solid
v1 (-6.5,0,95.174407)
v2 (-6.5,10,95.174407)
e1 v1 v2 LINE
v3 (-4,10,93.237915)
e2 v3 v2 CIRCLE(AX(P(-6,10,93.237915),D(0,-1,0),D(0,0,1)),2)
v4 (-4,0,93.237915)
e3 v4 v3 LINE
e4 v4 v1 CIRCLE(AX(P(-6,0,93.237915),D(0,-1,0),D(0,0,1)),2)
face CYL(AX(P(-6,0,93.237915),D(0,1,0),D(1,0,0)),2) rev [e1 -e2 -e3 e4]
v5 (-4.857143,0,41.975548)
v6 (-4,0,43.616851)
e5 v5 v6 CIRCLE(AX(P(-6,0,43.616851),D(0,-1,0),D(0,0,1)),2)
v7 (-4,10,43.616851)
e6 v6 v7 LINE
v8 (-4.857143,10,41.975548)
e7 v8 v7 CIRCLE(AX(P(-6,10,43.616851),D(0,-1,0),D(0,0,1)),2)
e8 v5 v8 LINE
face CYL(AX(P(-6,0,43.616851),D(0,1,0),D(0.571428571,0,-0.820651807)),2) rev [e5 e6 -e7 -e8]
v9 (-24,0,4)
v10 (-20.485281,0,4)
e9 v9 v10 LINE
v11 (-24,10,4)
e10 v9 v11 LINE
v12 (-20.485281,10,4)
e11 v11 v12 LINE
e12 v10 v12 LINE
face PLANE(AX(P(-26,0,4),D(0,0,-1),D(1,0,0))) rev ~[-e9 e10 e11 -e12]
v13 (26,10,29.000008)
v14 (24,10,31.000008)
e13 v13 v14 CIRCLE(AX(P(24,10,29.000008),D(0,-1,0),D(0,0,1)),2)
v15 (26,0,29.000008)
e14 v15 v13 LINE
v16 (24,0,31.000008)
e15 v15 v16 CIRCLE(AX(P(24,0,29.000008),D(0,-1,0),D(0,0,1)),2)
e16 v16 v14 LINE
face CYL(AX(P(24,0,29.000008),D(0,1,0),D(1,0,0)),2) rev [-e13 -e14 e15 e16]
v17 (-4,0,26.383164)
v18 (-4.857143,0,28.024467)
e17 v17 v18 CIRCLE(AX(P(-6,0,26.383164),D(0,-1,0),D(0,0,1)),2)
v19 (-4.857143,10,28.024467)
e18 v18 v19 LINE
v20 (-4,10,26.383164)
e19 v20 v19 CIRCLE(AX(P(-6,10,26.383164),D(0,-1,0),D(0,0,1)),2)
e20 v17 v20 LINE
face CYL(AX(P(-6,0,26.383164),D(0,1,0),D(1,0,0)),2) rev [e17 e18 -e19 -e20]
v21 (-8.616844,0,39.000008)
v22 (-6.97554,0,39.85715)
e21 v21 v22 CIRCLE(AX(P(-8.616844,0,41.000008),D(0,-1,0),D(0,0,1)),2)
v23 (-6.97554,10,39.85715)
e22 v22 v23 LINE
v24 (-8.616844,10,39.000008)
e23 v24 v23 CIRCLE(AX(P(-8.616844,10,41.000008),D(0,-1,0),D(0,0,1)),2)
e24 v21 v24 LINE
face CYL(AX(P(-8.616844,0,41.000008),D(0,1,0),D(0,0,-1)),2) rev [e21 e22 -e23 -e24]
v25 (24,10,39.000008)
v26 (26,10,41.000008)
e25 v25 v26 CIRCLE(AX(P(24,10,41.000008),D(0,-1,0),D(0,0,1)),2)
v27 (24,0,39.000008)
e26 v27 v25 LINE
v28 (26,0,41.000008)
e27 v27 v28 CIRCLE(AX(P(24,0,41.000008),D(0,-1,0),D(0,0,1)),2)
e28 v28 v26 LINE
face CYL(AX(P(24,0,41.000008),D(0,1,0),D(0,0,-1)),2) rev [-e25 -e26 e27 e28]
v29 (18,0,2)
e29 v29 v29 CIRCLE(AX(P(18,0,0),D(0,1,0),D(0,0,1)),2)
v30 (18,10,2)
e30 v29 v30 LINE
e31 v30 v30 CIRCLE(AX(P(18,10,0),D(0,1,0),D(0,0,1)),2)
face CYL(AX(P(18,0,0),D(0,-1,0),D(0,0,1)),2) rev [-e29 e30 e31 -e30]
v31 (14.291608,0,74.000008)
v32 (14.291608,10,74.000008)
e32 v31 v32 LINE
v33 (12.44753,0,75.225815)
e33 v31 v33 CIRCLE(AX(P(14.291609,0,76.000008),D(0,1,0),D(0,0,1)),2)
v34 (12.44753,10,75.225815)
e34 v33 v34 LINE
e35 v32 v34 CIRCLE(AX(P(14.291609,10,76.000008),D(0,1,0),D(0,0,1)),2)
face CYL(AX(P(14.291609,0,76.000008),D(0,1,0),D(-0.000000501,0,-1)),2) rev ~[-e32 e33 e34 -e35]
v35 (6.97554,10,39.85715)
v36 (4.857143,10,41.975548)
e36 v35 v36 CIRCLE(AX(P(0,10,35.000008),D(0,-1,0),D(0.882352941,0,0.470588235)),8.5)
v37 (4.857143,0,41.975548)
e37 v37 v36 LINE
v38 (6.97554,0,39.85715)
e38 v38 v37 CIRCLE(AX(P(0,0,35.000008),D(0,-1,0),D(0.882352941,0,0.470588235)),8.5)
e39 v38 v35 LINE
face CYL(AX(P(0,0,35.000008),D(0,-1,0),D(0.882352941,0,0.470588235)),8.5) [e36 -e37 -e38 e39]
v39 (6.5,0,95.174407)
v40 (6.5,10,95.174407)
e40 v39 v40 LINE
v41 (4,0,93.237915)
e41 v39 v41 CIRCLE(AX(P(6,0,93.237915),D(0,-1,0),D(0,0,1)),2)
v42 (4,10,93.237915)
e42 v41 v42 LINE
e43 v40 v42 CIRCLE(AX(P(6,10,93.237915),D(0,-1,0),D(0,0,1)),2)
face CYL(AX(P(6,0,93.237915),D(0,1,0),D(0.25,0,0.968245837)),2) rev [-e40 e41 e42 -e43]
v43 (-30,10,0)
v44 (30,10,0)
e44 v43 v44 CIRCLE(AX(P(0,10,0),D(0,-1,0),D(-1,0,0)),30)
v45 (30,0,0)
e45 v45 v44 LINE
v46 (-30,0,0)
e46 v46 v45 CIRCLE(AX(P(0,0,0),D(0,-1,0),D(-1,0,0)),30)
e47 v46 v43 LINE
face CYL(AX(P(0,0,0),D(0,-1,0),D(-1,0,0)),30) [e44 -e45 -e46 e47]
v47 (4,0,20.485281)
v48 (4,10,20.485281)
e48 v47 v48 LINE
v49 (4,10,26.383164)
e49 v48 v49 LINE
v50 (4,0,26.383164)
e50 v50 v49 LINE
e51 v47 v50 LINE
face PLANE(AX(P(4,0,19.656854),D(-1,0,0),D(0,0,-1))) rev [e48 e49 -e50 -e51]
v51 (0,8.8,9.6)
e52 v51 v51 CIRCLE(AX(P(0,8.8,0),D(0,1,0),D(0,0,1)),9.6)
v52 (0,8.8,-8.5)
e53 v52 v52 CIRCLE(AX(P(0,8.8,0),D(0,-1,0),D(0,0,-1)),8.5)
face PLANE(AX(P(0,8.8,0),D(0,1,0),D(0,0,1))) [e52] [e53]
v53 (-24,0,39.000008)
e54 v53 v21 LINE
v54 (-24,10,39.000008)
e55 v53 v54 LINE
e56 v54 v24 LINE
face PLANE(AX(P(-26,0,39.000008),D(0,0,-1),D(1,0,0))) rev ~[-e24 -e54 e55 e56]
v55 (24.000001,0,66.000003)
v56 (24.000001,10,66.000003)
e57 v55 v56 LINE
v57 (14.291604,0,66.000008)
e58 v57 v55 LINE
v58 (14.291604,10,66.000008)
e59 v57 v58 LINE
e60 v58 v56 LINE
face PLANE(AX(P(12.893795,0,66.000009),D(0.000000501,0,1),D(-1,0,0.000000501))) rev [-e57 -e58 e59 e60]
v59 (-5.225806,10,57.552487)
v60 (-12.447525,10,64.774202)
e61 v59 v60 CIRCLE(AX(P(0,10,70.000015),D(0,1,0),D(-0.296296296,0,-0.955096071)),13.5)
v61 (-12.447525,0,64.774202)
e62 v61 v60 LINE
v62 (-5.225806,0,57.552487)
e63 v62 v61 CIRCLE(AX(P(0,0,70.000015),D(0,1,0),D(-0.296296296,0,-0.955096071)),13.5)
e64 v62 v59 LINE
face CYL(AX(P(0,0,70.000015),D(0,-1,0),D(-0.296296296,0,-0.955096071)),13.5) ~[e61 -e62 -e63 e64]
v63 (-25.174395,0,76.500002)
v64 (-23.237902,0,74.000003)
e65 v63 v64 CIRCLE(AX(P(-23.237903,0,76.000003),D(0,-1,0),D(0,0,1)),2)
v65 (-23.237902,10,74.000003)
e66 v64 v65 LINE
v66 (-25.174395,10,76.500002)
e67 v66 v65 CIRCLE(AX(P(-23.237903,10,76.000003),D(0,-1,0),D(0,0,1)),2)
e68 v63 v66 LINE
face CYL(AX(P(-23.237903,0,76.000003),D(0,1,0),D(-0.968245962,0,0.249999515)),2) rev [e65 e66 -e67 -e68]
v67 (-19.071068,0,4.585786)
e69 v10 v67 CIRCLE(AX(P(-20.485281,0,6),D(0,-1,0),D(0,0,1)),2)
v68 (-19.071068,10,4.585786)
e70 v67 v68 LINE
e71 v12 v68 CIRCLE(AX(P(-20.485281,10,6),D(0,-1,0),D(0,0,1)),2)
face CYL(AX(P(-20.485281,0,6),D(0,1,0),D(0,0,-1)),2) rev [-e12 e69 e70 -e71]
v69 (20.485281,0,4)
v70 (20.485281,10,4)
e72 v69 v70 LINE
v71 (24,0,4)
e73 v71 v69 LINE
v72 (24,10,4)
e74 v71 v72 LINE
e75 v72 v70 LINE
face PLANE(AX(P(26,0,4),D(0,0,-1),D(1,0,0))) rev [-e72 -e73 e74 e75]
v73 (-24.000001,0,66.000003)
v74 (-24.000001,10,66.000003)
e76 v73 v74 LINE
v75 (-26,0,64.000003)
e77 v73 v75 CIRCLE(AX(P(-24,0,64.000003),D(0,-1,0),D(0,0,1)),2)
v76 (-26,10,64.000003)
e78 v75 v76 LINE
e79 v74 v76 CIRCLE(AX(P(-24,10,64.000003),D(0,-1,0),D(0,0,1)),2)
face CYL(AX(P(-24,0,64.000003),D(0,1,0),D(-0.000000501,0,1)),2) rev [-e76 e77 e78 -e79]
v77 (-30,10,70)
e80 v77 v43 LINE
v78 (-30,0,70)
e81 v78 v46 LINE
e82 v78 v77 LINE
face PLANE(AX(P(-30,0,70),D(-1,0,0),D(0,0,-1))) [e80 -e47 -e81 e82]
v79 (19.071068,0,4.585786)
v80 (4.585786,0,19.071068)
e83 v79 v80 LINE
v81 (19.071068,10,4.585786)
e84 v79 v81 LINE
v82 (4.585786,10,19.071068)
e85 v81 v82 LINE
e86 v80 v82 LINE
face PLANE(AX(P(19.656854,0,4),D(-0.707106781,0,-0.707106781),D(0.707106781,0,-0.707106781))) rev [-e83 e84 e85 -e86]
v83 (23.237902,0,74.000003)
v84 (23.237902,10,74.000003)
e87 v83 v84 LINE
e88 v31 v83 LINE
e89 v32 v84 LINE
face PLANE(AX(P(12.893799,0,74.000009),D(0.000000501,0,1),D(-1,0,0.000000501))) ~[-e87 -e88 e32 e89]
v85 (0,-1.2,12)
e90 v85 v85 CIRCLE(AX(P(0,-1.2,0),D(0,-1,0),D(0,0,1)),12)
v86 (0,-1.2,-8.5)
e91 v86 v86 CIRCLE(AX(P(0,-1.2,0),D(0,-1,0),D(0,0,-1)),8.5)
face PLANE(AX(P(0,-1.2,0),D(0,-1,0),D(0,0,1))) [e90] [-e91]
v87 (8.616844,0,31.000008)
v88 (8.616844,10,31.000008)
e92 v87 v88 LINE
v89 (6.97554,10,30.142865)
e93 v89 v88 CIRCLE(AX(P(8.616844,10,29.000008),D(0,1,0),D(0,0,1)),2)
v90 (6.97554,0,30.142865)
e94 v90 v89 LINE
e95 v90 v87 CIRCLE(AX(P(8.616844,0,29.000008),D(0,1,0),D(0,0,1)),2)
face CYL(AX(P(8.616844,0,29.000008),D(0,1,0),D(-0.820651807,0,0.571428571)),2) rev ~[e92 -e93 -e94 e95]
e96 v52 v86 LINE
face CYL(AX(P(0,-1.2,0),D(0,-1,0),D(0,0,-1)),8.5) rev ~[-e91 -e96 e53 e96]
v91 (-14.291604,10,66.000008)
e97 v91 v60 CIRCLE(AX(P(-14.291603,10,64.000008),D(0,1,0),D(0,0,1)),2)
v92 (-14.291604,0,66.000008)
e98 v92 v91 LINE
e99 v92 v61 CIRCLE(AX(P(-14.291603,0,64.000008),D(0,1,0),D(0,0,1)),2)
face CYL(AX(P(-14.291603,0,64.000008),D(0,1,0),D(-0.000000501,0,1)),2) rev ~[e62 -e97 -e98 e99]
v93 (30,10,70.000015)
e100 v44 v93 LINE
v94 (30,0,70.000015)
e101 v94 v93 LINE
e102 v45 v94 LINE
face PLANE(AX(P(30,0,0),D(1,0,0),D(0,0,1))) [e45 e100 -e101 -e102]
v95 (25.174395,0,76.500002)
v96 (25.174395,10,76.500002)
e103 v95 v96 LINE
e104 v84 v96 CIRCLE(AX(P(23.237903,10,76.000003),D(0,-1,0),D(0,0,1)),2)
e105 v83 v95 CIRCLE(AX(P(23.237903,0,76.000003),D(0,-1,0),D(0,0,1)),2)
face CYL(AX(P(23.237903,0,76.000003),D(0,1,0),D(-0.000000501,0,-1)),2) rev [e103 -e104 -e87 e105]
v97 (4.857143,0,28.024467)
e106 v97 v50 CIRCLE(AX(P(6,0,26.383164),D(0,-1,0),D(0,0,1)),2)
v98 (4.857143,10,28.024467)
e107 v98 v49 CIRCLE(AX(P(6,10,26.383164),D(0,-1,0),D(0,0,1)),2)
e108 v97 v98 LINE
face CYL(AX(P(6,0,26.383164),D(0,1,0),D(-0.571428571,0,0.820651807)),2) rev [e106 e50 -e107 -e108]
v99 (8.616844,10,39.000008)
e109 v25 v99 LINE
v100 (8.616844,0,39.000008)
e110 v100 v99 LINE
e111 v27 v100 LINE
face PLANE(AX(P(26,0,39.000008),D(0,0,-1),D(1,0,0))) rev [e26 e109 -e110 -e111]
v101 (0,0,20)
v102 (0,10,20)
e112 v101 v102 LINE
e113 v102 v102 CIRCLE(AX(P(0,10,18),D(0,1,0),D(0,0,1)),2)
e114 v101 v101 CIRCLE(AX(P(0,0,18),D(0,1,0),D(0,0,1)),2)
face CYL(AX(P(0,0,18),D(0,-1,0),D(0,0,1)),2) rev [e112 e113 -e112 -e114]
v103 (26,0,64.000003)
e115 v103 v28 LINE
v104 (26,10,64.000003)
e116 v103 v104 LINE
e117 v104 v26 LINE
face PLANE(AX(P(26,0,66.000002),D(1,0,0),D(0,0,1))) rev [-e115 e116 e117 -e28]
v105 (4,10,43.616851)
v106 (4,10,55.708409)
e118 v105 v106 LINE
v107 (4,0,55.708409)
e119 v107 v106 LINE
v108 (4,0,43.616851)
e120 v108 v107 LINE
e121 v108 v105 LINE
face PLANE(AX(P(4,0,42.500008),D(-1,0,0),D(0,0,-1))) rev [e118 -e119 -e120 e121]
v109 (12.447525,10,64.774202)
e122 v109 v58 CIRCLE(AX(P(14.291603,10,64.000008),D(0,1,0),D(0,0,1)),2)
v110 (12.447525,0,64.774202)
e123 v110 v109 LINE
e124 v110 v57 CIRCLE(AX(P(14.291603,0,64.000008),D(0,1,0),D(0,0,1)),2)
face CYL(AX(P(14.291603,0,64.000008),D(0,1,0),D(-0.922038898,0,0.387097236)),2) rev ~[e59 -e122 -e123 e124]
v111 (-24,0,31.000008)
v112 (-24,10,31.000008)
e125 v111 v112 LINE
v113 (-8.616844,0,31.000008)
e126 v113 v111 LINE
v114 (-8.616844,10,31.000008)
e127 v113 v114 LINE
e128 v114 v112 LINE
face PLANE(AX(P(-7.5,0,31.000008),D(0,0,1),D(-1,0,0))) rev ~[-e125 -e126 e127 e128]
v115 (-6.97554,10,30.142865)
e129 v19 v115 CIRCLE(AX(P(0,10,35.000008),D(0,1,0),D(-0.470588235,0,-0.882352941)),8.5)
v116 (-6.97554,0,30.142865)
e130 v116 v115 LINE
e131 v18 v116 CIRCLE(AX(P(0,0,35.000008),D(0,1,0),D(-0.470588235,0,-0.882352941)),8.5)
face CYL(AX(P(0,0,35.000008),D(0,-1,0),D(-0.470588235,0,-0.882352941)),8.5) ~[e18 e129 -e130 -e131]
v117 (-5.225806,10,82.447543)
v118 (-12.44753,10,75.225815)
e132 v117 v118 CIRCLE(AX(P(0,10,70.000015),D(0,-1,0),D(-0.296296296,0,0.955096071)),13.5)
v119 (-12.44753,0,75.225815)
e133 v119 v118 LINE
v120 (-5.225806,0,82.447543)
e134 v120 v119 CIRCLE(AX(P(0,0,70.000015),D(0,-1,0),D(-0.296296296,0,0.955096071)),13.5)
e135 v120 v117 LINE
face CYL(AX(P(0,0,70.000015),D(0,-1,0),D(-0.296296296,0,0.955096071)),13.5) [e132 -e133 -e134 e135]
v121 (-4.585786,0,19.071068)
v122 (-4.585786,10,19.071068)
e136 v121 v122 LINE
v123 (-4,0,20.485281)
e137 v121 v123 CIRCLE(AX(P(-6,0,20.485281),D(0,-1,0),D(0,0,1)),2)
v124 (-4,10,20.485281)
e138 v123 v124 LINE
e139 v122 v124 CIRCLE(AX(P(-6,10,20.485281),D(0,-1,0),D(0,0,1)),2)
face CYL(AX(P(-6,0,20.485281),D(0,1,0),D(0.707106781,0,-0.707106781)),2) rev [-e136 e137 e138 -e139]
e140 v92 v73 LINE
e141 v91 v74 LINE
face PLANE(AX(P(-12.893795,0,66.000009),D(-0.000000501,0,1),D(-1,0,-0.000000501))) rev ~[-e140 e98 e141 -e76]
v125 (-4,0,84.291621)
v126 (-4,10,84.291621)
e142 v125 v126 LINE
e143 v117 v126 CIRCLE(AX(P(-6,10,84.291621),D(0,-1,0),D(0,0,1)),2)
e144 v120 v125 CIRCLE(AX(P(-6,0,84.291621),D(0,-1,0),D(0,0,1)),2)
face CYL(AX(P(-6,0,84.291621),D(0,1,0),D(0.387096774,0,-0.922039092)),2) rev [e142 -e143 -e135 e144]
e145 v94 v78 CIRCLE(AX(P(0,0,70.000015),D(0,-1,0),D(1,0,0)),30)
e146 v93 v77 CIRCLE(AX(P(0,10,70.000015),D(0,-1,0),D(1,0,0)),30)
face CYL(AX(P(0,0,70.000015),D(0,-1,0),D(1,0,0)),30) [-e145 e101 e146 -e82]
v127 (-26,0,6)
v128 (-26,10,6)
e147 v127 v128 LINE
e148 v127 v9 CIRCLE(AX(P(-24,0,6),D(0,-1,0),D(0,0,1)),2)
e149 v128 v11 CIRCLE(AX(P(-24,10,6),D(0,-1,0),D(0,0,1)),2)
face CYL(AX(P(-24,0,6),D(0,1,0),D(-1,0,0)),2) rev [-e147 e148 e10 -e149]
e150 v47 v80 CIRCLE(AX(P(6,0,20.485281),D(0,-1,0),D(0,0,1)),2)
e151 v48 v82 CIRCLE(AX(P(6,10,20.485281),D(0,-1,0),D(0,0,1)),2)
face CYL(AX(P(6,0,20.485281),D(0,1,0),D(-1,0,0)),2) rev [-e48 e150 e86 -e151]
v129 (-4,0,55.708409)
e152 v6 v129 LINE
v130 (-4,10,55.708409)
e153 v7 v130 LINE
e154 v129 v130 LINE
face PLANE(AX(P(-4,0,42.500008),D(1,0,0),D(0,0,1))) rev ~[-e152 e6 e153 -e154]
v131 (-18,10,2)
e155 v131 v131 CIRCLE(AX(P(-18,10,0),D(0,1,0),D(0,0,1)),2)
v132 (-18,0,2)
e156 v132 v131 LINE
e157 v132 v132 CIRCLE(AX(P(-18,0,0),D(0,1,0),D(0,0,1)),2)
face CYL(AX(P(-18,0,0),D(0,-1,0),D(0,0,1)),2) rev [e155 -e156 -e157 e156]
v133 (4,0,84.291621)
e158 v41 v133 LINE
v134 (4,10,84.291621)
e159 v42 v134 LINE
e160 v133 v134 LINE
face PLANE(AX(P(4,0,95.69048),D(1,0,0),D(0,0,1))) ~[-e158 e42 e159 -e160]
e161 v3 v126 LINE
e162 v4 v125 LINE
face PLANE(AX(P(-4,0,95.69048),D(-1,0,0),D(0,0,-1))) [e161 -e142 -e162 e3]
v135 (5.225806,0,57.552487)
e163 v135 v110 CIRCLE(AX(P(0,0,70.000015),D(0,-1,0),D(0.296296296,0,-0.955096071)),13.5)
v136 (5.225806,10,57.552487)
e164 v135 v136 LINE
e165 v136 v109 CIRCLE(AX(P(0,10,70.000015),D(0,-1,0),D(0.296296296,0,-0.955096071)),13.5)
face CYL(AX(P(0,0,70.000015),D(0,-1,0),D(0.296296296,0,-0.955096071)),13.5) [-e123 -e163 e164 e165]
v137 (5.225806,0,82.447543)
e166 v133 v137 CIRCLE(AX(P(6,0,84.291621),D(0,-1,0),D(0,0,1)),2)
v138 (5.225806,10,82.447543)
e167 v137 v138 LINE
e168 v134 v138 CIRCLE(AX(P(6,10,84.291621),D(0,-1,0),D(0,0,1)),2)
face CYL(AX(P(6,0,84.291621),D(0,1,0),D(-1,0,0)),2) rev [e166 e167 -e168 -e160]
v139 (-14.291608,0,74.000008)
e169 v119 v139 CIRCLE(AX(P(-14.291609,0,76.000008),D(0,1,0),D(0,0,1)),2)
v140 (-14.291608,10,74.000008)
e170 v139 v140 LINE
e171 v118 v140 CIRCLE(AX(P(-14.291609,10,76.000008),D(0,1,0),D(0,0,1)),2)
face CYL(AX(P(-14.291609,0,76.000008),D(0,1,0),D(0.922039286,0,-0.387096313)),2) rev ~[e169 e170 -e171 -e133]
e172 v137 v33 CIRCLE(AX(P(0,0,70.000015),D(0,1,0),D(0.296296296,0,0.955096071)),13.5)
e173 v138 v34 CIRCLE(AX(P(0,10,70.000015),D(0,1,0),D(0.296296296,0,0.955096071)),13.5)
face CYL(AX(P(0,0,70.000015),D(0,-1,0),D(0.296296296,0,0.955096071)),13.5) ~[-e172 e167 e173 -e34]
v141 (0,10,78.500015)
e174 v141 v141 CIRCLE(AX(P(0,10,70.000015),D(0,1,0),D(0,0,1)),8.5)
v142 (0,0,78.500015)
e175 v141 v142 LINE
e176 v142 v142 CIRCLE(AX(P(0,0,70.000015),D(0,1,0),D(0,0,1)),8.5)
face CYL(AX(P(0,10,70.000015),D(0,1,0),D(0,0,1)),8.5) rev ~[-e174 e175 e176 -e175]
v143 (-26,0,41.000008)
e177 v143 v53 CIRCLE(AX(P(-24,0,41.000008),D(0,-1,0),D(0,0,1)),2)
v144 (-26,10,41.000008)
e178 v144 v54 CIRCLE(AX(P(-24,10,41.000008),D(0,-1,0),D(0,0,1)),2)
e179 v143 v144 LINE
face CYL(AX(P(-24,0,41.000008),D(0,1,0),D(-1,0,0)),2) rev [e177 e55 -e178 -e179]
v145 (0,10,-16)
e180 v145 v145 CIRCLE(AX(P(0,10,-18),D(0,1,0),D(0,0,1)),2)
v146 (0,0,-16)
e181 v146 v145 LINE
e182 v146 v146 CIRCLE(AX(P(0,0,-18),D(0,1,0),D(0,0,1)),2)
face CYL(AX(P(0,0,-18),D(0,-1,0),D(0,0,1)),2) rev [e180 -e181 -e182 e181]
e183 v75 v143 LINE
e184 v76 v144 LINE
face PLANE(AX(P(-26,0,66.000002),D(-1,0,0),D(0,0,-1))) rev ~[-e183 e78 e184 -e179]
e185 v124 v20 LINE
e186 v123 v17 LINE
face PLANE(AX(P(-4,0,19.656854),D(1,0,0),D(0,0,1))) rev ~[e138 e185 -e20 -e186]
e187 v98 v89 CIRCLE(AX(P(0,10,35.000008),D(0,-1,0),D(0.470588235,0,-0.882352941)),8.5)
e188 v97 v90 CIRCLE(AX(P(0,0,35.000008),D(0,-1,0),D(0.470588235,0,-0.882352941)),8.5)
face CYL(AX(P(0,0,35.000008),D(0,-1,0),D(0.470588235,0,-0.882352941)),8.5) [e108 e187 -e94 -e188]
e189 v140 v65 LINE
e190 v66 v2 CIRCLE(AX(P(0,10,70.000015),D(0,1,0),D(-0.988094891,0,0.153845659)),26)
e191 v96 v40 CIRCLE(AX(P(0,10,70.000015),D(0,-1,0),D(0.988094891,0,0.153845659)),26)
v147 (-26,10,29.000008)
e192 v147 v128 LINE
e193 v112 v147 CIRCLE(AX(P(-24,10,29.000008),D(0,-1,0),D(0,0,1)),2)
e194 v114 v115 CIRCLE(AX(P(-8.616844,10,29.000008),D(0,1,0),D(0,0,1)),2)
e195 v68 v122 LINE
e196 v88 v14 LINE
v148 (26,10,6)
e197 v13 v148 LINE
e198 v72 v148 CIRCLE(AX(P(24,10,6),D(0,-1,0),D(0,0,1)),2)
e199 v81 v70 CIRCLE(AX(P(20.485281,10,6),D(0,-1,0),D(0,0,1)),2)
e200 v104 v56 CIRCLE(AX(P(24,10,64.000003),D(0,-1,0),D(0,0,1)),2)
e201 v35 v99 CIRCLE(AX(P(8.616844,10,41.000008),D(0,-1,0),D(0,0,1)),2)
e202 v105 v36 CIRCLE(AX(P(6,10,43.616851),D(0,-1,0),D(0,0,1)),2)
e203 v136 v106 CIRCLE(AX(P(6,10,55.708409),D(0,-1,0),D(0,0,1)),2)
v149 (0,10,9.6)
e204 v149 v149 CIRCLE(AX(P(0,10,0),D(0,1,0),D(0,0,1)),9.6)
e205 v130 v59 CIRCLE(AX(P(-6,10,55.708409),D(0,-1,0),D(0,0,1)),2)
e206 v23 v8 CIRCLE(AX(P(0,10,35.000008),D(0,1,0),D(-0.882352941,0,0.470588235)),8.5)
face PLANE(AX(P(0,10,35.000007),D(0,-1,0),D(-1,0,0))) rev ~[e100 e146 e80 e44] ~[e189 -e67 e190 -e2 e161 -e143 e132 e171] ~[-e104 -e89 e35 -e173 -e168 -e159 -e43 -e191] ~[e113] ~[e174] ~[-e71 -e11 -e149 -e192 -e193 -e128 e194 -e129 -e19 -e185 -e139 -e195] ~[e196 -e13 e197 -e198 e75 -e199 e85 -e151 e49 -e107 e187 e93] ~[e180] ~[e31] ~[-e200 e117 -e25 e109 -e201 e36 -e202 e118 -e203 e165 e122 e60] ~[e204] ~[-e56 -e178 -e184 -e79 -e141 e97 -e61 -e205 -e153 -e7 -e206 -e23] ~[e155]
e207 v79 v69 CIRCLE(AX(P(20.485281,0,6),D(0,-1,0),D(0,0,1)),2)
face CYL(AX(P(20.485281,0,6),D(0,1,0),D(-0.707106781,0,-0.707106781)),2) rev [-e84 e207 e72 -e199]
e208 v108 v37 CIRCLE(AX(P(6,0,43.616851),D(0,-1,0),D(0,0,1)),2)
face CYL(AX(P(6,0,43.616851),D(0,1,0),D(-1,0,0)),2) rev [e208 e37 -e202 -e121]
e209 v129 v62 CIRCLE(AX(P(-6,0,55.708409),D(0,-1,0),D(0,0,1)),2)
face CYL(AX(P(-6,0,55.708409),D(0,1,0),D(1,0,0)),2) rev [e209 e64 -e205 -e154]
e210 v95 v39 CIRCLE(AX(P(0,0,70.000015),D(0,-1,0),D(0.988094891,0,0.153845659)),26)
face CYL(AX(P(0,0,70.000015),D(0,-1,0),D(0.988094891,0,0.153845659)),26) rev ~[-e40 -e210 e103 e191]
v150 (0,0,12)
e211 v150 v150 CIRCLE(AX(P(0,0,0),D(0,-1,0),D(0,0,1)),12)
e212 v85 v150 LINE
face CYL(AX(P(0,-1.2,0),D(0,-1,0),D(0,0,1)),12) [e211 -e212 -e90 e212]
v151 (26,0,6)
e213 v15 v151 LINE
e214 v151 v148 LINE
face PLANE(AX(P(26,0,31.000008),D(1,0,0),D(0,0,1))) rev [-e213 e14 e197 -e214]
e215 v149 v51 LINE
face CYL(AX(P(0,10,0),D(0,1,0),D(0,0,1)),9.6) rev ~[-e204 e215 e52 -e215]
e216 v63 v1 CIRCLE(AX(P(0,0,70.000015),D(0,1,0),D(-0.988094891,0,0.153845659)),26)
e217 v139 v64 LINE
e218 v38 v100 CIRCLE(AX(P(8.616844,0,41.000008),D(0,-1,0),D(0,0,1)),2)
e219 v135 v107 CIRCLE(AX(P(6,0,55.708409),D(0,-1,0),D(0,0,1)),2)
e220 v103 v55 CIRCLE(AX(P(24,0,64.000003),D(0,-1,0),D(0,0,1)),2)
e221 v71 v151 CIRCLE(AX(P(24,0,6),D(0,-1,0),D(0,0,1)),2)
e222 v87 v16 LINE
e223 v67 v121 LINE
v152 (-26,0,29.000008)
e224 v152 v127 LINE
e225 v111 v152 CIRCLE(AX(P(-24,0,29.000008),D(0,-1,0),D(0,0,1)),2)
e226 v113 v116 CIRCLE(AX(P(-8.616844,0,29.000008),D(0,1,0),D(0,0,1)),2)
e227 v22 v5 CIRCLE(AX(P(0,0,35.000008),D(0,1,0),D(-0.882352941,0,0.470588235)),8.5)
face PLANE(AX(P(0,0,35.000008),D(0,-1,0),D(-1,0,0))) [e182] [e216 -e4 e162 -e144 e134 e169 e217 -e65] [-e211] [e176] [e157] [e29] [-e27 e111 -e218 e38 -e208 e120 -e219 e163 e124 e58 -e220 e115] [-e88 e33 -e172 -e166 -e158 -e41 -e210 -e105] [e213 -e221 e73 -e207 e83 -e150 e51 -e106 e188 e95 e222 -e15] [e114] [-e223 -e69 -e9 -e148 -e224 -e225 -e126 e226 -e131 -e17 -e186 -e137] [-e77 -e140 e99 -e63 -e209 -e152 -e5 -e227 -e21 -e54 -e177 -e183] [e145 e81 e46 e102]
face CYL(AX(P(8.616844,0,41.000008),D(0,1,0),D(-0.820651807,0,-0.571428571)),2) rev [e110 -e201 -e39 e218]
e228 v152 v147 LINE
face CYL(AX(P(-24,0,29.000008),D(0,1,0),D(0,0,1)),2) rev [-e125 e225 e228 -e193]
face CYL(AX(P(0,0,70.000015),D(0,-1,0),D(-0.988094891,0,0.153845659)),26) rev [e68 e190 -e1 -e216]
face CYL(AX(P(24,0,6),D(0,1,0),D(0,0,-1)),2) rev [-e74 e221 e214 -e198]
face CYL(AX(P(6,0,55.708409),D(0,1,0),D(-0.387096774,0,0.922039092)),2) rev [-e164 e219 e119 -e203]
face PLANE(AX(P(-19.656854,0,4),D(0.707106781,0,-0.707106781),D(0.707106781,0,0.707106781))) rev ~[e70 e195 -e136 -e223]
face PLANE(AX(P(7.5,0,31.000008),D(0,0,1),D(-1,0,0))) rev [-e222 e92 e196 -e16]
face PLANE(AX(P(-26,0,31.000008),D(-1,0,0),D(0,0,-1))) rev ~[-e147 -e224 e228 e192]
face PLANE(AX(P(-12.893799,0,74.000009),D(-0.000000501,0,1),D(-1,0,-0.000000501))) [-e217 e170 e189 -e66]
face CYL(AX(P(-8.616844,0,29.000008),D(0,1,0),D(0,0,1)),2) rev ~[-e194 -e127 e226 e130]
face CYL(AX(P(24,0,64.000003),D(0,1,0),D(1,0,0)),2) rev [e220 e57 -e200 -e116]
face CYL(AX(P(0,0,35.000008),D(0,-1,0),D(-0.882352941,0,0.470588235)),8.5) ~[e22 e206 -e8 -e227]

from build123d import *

# Parameters (mm, degrees)
SKETCH_1_R             = 4
SKETCH_1_R_2           = 2
EXTRUDE_1_DEPTH        = 10
SKETCH_2_R             = 8.5
CUT_EXTRUDE_1_DEPTH    = 10
SKETCH_4_R             = 2.5
CUT_EXTRUDE_3_DEPTH    = 30
CUT_EXTRUDE_8_DEPTH    = 10
FILLET_1_R             = 2
FILLET_1_OF_MIRROR_1_R = 2
SKETCH_11_R            = 2.5
EXTRUDE_2_DEPTH        = 10
SKETCH_12_R            = 8.5
CUT_EXTRUDE_10_DEPTH   = 21
SKETCH_13_R            = 9.6
CUT_EXTRUDE_11_DEPTH   = 1.2
EXTRUDE_START          = 1.2
SKETCH_14_R            = 12
SKETCH_14_R_2          = 8.5
EXTRUDE_3_DEPTH        = 1.2


with BuildPart() as part:
    # 草图1 → 凸台-拉伸1 (new body)
    with BuildSketch(Plane(origin=(0, 0, 0), x_dir=(1, 0, 0), z_dir=(0, 1, 0))):
        with BuildLine():
            Line((30, 0), (30, -70.000015024))
            ThreePointArc((30, -70.000015024), (-7.512e-06, -100.000015025), (-30, -70))
            Line((-30, -70), (-30, 0))
            ThreePointArc((-30, 0), (0, 30), (30, 0))
        make_face()
        with Locations(Location((0, 0, 0), (0, 0, 270))):
            Circle(SKETCH_1_R, mode=Mode.SUBTRACT)
        with Locations(Location((0, 18, 0), (0, 0, 270))):
            Circle(SKETCH_1_R_2, mode=Mode.SUBTRACT)
        with Locations(Location((18, 0, 0), (0, 0, 270))):
            Circle(SKETCH_1_R_2, mode=Mode.SUBTRACT)
        with Locations(Location((0, -18, 0), (0, 0, 270))):
            Circle(SKETCH_1_R_2, mode=Mode.SUBTRACT)
        with Locations(Location((-18, 0, 0), (0, 0, 270))):
            Circle(SKETCH_1_R_2, mode=Mode.SUBTRACT)
    extrude(amount=EXTRUDE_1_DEPTH)

    # 草图2 → 切除-拉伸1 (cut)
    with BuildSketch(Plane(origin=(0, 10, 0), x_dir=(1, 0, 0), z_dir=(0, 1, 0))):
        with Locations(Location((0, -70.000015025, 0), (0, 0, 270))):
            Circle(SKETCH_2_R)
    extrude(amount=-CUT_EXTRUDE_1_DEPTH, mode=Mode.SUBTRACT)

    # 草图4 → 切除-拉伸3 (cut)
    with BuildSketch(Plane.XZ):
        with Locations(Location((0, 35.000007512, 0), (0, 0, 270))):
            Circle(SKETCH_4_R)
    extrude(amount=-CUT_EXTRUDE_3_DEPTH, mode=Mode.SUBTRACT)

    # 草图9 → 切除-拉伸8 (cut)
    with BuildSketch(Plane(origin=(0, 0, 0), x_dir=(-1, 0, 0), z_dir=(0, -1, 0))):
        with BuildLine():
            Line((7.5, -31.000007512), (26, -31.000007512))
            Line((26, -31.000007512), (26, -4))
            Line((26, -4), (19.656854249, -4))
            Line((19.656854249, -4), (4, -19.656854249))
            Line((4, -19.656854249), (4, -27.500007512))
            ThreePointArc((4, -27.500007512), (6.01040764, -28.989599872), (7.5, -31.000007512))
        make_face()
        with BuildLine():
            Line((12.893794955, -66.000008567), (26, -66.000002003))
            Line((26, -66.000002003), (26, -39.000007512))
            Line((26, -39.000007512), (7.5, -39.000007512))
            ThreePointArc((7.5, -39.000007512), (6.01040764, -41.010415152), (4, -42.500007512))
            Line((4, -42.500007512), (4, -57.106218067))
            ThreePointArc((4, -57.106218067), (9.545939156, -60.454071088), (12.893794955, -66.000008567))
        make_face()
        with BuildLine():
            Line((12.893798962, -74.000008567), (25.690467161, -74.000002158))
            ThreePointArc((25.690467161, -74.000002158), (18.384780915, -88.384786732), (4, -95.690480182))
            Line((4, -95.690480182), (4, -82.893811983))
            ThreePointArc((4, -82.893811983), (9.545943936, -79.54595418), (12.893798962, -74.000008567))
        make_face()
    cut_extrude_8 = extrude(amount=-CUT_EXTRUDE_8_DEPTH, mode=Mode.SUBTRACT)

    # 圆角1
    fillet_1_edges = [part.edges().sort_by_distance(p)[0] for p in [
        (-26, 5, 4),
        (-26, 5, 31.000007512),
        (-7.5, 5, 31.000007512),
        (-4, 5, 27.500007512),
        (-4, 5, 19.656854249),
        (-19.656854249, 5, 4),
        (-4, 5, 42.500007512),
        (-7.5, 5, 39.000007512),
        (-26, 5, 39.000007512),
        (-26, 5, 66.000002003),
        (-12.893794955, 5, 66.000008567),
        (-4, 5, 57.106218067),
        (-25.690467161, 5, 74.000002158),
        (-4, 5, 95.690480182),
        (-4, 5, 82.893811983),
        (-12.893798962, 5, 74.000008567),
    ]]
    fillet(fillet_1_edges, radius=FILLET_1_R)

    # 镜向1: 切除-拉伸8 across plane
    add(cut_extrude_8.mirror(Plane.ZY), mode=Mode.SUBTRACT)

    # 圆角1 of 镜向1
    fillet_1_of_mirror_1_edges = [part.edges().sort_by_distance(p)[0] for p in [
        (26, 5, 4),
        (26, 5, 31.000007512),
        (7.5, 5, 31.000007512),
        (4, 5, 27.500007512),
        (4, 5, 19.656854249),
        (19.656854249, 5, 4),
        (4, 5, 42.500007512),
        (7.5, 5, 39.000007512),
        (26, 5, 39.000007512),
        (26, 5, 66.000002003),
        (12.893794955, 5, 66.000008567),
        (4, 5, 57.106218067),
        (25.690467161, 5, 74.000002158),
        (4, 5, 95.690480182),
        (4, 5, 82.893811983),
        (12.893798962, 5, 74.000008567),
    ]]
    fillet(fillet_1_of_mirror_1_edges, radius=FILLET_1_OF_MIRROR_1_R)

    # 草图11 → 凸台-拉伸2 (add)
    with BuildSketch(Plane(origin=(0, 0, 0), x_dir=(-1, 0, 0), z_dir=(0, -1, 0))):
        with Locations((0, -35.000007512)):
            Circle(SKETCH_11_R)
    extrude(amount=-EXTRUDE_2_DEPTH)

    # 草图12 → 切除-拉伸10 (cut)
    with BuildSketch(Plane(origin=(0, 0, 0), x_dir=(-1, 0, 0), z_dir=(0, -1, 0))):
        with Locations(Location((0, 0, 0), (0, 0, 90))):
            Circle(SKETCH_12_R)
    extrude(amount=-CUT_EXTRUDE_10_DEPTH, mode=Mode.SUBTRACT)

    # 草图13 → 切除-拉伸11 (cut)
    with BuildSketch(Plane(origin=(0, 10, 0), x_dir=(1, 0, 0), z_dir=(0, 1, 0))):
        with Locations(Location((0, 0, 0), (0, 0, 270))):
            Circle(SKETCH_13_R)
    extrude(amount=-CUT_EXTRUDE_11_DEPTH, mode=Mode.SUBTRACT)

    # 草图14 → 凸台-拉伸3 (add)
    with BuildSketch(Plane(origin=(0, 0, 0), x_dir=(-1, 0, 0), z_dir=(0, -1, 0)).offset(EXTRUDE_START)):
        with Locations(Location((0, 0, 0), (0, 0, 270))):
            Circle(SKETCH_14_R)
        with Locations(Location((0, 0, 0), (0, 0, 90))):
            Circle(SKETCH_14_R_2, mode=Mode.SUBTRACT)
    extrude(amount=-EXTRUDE_3_DEPTH)


solid = part.part
